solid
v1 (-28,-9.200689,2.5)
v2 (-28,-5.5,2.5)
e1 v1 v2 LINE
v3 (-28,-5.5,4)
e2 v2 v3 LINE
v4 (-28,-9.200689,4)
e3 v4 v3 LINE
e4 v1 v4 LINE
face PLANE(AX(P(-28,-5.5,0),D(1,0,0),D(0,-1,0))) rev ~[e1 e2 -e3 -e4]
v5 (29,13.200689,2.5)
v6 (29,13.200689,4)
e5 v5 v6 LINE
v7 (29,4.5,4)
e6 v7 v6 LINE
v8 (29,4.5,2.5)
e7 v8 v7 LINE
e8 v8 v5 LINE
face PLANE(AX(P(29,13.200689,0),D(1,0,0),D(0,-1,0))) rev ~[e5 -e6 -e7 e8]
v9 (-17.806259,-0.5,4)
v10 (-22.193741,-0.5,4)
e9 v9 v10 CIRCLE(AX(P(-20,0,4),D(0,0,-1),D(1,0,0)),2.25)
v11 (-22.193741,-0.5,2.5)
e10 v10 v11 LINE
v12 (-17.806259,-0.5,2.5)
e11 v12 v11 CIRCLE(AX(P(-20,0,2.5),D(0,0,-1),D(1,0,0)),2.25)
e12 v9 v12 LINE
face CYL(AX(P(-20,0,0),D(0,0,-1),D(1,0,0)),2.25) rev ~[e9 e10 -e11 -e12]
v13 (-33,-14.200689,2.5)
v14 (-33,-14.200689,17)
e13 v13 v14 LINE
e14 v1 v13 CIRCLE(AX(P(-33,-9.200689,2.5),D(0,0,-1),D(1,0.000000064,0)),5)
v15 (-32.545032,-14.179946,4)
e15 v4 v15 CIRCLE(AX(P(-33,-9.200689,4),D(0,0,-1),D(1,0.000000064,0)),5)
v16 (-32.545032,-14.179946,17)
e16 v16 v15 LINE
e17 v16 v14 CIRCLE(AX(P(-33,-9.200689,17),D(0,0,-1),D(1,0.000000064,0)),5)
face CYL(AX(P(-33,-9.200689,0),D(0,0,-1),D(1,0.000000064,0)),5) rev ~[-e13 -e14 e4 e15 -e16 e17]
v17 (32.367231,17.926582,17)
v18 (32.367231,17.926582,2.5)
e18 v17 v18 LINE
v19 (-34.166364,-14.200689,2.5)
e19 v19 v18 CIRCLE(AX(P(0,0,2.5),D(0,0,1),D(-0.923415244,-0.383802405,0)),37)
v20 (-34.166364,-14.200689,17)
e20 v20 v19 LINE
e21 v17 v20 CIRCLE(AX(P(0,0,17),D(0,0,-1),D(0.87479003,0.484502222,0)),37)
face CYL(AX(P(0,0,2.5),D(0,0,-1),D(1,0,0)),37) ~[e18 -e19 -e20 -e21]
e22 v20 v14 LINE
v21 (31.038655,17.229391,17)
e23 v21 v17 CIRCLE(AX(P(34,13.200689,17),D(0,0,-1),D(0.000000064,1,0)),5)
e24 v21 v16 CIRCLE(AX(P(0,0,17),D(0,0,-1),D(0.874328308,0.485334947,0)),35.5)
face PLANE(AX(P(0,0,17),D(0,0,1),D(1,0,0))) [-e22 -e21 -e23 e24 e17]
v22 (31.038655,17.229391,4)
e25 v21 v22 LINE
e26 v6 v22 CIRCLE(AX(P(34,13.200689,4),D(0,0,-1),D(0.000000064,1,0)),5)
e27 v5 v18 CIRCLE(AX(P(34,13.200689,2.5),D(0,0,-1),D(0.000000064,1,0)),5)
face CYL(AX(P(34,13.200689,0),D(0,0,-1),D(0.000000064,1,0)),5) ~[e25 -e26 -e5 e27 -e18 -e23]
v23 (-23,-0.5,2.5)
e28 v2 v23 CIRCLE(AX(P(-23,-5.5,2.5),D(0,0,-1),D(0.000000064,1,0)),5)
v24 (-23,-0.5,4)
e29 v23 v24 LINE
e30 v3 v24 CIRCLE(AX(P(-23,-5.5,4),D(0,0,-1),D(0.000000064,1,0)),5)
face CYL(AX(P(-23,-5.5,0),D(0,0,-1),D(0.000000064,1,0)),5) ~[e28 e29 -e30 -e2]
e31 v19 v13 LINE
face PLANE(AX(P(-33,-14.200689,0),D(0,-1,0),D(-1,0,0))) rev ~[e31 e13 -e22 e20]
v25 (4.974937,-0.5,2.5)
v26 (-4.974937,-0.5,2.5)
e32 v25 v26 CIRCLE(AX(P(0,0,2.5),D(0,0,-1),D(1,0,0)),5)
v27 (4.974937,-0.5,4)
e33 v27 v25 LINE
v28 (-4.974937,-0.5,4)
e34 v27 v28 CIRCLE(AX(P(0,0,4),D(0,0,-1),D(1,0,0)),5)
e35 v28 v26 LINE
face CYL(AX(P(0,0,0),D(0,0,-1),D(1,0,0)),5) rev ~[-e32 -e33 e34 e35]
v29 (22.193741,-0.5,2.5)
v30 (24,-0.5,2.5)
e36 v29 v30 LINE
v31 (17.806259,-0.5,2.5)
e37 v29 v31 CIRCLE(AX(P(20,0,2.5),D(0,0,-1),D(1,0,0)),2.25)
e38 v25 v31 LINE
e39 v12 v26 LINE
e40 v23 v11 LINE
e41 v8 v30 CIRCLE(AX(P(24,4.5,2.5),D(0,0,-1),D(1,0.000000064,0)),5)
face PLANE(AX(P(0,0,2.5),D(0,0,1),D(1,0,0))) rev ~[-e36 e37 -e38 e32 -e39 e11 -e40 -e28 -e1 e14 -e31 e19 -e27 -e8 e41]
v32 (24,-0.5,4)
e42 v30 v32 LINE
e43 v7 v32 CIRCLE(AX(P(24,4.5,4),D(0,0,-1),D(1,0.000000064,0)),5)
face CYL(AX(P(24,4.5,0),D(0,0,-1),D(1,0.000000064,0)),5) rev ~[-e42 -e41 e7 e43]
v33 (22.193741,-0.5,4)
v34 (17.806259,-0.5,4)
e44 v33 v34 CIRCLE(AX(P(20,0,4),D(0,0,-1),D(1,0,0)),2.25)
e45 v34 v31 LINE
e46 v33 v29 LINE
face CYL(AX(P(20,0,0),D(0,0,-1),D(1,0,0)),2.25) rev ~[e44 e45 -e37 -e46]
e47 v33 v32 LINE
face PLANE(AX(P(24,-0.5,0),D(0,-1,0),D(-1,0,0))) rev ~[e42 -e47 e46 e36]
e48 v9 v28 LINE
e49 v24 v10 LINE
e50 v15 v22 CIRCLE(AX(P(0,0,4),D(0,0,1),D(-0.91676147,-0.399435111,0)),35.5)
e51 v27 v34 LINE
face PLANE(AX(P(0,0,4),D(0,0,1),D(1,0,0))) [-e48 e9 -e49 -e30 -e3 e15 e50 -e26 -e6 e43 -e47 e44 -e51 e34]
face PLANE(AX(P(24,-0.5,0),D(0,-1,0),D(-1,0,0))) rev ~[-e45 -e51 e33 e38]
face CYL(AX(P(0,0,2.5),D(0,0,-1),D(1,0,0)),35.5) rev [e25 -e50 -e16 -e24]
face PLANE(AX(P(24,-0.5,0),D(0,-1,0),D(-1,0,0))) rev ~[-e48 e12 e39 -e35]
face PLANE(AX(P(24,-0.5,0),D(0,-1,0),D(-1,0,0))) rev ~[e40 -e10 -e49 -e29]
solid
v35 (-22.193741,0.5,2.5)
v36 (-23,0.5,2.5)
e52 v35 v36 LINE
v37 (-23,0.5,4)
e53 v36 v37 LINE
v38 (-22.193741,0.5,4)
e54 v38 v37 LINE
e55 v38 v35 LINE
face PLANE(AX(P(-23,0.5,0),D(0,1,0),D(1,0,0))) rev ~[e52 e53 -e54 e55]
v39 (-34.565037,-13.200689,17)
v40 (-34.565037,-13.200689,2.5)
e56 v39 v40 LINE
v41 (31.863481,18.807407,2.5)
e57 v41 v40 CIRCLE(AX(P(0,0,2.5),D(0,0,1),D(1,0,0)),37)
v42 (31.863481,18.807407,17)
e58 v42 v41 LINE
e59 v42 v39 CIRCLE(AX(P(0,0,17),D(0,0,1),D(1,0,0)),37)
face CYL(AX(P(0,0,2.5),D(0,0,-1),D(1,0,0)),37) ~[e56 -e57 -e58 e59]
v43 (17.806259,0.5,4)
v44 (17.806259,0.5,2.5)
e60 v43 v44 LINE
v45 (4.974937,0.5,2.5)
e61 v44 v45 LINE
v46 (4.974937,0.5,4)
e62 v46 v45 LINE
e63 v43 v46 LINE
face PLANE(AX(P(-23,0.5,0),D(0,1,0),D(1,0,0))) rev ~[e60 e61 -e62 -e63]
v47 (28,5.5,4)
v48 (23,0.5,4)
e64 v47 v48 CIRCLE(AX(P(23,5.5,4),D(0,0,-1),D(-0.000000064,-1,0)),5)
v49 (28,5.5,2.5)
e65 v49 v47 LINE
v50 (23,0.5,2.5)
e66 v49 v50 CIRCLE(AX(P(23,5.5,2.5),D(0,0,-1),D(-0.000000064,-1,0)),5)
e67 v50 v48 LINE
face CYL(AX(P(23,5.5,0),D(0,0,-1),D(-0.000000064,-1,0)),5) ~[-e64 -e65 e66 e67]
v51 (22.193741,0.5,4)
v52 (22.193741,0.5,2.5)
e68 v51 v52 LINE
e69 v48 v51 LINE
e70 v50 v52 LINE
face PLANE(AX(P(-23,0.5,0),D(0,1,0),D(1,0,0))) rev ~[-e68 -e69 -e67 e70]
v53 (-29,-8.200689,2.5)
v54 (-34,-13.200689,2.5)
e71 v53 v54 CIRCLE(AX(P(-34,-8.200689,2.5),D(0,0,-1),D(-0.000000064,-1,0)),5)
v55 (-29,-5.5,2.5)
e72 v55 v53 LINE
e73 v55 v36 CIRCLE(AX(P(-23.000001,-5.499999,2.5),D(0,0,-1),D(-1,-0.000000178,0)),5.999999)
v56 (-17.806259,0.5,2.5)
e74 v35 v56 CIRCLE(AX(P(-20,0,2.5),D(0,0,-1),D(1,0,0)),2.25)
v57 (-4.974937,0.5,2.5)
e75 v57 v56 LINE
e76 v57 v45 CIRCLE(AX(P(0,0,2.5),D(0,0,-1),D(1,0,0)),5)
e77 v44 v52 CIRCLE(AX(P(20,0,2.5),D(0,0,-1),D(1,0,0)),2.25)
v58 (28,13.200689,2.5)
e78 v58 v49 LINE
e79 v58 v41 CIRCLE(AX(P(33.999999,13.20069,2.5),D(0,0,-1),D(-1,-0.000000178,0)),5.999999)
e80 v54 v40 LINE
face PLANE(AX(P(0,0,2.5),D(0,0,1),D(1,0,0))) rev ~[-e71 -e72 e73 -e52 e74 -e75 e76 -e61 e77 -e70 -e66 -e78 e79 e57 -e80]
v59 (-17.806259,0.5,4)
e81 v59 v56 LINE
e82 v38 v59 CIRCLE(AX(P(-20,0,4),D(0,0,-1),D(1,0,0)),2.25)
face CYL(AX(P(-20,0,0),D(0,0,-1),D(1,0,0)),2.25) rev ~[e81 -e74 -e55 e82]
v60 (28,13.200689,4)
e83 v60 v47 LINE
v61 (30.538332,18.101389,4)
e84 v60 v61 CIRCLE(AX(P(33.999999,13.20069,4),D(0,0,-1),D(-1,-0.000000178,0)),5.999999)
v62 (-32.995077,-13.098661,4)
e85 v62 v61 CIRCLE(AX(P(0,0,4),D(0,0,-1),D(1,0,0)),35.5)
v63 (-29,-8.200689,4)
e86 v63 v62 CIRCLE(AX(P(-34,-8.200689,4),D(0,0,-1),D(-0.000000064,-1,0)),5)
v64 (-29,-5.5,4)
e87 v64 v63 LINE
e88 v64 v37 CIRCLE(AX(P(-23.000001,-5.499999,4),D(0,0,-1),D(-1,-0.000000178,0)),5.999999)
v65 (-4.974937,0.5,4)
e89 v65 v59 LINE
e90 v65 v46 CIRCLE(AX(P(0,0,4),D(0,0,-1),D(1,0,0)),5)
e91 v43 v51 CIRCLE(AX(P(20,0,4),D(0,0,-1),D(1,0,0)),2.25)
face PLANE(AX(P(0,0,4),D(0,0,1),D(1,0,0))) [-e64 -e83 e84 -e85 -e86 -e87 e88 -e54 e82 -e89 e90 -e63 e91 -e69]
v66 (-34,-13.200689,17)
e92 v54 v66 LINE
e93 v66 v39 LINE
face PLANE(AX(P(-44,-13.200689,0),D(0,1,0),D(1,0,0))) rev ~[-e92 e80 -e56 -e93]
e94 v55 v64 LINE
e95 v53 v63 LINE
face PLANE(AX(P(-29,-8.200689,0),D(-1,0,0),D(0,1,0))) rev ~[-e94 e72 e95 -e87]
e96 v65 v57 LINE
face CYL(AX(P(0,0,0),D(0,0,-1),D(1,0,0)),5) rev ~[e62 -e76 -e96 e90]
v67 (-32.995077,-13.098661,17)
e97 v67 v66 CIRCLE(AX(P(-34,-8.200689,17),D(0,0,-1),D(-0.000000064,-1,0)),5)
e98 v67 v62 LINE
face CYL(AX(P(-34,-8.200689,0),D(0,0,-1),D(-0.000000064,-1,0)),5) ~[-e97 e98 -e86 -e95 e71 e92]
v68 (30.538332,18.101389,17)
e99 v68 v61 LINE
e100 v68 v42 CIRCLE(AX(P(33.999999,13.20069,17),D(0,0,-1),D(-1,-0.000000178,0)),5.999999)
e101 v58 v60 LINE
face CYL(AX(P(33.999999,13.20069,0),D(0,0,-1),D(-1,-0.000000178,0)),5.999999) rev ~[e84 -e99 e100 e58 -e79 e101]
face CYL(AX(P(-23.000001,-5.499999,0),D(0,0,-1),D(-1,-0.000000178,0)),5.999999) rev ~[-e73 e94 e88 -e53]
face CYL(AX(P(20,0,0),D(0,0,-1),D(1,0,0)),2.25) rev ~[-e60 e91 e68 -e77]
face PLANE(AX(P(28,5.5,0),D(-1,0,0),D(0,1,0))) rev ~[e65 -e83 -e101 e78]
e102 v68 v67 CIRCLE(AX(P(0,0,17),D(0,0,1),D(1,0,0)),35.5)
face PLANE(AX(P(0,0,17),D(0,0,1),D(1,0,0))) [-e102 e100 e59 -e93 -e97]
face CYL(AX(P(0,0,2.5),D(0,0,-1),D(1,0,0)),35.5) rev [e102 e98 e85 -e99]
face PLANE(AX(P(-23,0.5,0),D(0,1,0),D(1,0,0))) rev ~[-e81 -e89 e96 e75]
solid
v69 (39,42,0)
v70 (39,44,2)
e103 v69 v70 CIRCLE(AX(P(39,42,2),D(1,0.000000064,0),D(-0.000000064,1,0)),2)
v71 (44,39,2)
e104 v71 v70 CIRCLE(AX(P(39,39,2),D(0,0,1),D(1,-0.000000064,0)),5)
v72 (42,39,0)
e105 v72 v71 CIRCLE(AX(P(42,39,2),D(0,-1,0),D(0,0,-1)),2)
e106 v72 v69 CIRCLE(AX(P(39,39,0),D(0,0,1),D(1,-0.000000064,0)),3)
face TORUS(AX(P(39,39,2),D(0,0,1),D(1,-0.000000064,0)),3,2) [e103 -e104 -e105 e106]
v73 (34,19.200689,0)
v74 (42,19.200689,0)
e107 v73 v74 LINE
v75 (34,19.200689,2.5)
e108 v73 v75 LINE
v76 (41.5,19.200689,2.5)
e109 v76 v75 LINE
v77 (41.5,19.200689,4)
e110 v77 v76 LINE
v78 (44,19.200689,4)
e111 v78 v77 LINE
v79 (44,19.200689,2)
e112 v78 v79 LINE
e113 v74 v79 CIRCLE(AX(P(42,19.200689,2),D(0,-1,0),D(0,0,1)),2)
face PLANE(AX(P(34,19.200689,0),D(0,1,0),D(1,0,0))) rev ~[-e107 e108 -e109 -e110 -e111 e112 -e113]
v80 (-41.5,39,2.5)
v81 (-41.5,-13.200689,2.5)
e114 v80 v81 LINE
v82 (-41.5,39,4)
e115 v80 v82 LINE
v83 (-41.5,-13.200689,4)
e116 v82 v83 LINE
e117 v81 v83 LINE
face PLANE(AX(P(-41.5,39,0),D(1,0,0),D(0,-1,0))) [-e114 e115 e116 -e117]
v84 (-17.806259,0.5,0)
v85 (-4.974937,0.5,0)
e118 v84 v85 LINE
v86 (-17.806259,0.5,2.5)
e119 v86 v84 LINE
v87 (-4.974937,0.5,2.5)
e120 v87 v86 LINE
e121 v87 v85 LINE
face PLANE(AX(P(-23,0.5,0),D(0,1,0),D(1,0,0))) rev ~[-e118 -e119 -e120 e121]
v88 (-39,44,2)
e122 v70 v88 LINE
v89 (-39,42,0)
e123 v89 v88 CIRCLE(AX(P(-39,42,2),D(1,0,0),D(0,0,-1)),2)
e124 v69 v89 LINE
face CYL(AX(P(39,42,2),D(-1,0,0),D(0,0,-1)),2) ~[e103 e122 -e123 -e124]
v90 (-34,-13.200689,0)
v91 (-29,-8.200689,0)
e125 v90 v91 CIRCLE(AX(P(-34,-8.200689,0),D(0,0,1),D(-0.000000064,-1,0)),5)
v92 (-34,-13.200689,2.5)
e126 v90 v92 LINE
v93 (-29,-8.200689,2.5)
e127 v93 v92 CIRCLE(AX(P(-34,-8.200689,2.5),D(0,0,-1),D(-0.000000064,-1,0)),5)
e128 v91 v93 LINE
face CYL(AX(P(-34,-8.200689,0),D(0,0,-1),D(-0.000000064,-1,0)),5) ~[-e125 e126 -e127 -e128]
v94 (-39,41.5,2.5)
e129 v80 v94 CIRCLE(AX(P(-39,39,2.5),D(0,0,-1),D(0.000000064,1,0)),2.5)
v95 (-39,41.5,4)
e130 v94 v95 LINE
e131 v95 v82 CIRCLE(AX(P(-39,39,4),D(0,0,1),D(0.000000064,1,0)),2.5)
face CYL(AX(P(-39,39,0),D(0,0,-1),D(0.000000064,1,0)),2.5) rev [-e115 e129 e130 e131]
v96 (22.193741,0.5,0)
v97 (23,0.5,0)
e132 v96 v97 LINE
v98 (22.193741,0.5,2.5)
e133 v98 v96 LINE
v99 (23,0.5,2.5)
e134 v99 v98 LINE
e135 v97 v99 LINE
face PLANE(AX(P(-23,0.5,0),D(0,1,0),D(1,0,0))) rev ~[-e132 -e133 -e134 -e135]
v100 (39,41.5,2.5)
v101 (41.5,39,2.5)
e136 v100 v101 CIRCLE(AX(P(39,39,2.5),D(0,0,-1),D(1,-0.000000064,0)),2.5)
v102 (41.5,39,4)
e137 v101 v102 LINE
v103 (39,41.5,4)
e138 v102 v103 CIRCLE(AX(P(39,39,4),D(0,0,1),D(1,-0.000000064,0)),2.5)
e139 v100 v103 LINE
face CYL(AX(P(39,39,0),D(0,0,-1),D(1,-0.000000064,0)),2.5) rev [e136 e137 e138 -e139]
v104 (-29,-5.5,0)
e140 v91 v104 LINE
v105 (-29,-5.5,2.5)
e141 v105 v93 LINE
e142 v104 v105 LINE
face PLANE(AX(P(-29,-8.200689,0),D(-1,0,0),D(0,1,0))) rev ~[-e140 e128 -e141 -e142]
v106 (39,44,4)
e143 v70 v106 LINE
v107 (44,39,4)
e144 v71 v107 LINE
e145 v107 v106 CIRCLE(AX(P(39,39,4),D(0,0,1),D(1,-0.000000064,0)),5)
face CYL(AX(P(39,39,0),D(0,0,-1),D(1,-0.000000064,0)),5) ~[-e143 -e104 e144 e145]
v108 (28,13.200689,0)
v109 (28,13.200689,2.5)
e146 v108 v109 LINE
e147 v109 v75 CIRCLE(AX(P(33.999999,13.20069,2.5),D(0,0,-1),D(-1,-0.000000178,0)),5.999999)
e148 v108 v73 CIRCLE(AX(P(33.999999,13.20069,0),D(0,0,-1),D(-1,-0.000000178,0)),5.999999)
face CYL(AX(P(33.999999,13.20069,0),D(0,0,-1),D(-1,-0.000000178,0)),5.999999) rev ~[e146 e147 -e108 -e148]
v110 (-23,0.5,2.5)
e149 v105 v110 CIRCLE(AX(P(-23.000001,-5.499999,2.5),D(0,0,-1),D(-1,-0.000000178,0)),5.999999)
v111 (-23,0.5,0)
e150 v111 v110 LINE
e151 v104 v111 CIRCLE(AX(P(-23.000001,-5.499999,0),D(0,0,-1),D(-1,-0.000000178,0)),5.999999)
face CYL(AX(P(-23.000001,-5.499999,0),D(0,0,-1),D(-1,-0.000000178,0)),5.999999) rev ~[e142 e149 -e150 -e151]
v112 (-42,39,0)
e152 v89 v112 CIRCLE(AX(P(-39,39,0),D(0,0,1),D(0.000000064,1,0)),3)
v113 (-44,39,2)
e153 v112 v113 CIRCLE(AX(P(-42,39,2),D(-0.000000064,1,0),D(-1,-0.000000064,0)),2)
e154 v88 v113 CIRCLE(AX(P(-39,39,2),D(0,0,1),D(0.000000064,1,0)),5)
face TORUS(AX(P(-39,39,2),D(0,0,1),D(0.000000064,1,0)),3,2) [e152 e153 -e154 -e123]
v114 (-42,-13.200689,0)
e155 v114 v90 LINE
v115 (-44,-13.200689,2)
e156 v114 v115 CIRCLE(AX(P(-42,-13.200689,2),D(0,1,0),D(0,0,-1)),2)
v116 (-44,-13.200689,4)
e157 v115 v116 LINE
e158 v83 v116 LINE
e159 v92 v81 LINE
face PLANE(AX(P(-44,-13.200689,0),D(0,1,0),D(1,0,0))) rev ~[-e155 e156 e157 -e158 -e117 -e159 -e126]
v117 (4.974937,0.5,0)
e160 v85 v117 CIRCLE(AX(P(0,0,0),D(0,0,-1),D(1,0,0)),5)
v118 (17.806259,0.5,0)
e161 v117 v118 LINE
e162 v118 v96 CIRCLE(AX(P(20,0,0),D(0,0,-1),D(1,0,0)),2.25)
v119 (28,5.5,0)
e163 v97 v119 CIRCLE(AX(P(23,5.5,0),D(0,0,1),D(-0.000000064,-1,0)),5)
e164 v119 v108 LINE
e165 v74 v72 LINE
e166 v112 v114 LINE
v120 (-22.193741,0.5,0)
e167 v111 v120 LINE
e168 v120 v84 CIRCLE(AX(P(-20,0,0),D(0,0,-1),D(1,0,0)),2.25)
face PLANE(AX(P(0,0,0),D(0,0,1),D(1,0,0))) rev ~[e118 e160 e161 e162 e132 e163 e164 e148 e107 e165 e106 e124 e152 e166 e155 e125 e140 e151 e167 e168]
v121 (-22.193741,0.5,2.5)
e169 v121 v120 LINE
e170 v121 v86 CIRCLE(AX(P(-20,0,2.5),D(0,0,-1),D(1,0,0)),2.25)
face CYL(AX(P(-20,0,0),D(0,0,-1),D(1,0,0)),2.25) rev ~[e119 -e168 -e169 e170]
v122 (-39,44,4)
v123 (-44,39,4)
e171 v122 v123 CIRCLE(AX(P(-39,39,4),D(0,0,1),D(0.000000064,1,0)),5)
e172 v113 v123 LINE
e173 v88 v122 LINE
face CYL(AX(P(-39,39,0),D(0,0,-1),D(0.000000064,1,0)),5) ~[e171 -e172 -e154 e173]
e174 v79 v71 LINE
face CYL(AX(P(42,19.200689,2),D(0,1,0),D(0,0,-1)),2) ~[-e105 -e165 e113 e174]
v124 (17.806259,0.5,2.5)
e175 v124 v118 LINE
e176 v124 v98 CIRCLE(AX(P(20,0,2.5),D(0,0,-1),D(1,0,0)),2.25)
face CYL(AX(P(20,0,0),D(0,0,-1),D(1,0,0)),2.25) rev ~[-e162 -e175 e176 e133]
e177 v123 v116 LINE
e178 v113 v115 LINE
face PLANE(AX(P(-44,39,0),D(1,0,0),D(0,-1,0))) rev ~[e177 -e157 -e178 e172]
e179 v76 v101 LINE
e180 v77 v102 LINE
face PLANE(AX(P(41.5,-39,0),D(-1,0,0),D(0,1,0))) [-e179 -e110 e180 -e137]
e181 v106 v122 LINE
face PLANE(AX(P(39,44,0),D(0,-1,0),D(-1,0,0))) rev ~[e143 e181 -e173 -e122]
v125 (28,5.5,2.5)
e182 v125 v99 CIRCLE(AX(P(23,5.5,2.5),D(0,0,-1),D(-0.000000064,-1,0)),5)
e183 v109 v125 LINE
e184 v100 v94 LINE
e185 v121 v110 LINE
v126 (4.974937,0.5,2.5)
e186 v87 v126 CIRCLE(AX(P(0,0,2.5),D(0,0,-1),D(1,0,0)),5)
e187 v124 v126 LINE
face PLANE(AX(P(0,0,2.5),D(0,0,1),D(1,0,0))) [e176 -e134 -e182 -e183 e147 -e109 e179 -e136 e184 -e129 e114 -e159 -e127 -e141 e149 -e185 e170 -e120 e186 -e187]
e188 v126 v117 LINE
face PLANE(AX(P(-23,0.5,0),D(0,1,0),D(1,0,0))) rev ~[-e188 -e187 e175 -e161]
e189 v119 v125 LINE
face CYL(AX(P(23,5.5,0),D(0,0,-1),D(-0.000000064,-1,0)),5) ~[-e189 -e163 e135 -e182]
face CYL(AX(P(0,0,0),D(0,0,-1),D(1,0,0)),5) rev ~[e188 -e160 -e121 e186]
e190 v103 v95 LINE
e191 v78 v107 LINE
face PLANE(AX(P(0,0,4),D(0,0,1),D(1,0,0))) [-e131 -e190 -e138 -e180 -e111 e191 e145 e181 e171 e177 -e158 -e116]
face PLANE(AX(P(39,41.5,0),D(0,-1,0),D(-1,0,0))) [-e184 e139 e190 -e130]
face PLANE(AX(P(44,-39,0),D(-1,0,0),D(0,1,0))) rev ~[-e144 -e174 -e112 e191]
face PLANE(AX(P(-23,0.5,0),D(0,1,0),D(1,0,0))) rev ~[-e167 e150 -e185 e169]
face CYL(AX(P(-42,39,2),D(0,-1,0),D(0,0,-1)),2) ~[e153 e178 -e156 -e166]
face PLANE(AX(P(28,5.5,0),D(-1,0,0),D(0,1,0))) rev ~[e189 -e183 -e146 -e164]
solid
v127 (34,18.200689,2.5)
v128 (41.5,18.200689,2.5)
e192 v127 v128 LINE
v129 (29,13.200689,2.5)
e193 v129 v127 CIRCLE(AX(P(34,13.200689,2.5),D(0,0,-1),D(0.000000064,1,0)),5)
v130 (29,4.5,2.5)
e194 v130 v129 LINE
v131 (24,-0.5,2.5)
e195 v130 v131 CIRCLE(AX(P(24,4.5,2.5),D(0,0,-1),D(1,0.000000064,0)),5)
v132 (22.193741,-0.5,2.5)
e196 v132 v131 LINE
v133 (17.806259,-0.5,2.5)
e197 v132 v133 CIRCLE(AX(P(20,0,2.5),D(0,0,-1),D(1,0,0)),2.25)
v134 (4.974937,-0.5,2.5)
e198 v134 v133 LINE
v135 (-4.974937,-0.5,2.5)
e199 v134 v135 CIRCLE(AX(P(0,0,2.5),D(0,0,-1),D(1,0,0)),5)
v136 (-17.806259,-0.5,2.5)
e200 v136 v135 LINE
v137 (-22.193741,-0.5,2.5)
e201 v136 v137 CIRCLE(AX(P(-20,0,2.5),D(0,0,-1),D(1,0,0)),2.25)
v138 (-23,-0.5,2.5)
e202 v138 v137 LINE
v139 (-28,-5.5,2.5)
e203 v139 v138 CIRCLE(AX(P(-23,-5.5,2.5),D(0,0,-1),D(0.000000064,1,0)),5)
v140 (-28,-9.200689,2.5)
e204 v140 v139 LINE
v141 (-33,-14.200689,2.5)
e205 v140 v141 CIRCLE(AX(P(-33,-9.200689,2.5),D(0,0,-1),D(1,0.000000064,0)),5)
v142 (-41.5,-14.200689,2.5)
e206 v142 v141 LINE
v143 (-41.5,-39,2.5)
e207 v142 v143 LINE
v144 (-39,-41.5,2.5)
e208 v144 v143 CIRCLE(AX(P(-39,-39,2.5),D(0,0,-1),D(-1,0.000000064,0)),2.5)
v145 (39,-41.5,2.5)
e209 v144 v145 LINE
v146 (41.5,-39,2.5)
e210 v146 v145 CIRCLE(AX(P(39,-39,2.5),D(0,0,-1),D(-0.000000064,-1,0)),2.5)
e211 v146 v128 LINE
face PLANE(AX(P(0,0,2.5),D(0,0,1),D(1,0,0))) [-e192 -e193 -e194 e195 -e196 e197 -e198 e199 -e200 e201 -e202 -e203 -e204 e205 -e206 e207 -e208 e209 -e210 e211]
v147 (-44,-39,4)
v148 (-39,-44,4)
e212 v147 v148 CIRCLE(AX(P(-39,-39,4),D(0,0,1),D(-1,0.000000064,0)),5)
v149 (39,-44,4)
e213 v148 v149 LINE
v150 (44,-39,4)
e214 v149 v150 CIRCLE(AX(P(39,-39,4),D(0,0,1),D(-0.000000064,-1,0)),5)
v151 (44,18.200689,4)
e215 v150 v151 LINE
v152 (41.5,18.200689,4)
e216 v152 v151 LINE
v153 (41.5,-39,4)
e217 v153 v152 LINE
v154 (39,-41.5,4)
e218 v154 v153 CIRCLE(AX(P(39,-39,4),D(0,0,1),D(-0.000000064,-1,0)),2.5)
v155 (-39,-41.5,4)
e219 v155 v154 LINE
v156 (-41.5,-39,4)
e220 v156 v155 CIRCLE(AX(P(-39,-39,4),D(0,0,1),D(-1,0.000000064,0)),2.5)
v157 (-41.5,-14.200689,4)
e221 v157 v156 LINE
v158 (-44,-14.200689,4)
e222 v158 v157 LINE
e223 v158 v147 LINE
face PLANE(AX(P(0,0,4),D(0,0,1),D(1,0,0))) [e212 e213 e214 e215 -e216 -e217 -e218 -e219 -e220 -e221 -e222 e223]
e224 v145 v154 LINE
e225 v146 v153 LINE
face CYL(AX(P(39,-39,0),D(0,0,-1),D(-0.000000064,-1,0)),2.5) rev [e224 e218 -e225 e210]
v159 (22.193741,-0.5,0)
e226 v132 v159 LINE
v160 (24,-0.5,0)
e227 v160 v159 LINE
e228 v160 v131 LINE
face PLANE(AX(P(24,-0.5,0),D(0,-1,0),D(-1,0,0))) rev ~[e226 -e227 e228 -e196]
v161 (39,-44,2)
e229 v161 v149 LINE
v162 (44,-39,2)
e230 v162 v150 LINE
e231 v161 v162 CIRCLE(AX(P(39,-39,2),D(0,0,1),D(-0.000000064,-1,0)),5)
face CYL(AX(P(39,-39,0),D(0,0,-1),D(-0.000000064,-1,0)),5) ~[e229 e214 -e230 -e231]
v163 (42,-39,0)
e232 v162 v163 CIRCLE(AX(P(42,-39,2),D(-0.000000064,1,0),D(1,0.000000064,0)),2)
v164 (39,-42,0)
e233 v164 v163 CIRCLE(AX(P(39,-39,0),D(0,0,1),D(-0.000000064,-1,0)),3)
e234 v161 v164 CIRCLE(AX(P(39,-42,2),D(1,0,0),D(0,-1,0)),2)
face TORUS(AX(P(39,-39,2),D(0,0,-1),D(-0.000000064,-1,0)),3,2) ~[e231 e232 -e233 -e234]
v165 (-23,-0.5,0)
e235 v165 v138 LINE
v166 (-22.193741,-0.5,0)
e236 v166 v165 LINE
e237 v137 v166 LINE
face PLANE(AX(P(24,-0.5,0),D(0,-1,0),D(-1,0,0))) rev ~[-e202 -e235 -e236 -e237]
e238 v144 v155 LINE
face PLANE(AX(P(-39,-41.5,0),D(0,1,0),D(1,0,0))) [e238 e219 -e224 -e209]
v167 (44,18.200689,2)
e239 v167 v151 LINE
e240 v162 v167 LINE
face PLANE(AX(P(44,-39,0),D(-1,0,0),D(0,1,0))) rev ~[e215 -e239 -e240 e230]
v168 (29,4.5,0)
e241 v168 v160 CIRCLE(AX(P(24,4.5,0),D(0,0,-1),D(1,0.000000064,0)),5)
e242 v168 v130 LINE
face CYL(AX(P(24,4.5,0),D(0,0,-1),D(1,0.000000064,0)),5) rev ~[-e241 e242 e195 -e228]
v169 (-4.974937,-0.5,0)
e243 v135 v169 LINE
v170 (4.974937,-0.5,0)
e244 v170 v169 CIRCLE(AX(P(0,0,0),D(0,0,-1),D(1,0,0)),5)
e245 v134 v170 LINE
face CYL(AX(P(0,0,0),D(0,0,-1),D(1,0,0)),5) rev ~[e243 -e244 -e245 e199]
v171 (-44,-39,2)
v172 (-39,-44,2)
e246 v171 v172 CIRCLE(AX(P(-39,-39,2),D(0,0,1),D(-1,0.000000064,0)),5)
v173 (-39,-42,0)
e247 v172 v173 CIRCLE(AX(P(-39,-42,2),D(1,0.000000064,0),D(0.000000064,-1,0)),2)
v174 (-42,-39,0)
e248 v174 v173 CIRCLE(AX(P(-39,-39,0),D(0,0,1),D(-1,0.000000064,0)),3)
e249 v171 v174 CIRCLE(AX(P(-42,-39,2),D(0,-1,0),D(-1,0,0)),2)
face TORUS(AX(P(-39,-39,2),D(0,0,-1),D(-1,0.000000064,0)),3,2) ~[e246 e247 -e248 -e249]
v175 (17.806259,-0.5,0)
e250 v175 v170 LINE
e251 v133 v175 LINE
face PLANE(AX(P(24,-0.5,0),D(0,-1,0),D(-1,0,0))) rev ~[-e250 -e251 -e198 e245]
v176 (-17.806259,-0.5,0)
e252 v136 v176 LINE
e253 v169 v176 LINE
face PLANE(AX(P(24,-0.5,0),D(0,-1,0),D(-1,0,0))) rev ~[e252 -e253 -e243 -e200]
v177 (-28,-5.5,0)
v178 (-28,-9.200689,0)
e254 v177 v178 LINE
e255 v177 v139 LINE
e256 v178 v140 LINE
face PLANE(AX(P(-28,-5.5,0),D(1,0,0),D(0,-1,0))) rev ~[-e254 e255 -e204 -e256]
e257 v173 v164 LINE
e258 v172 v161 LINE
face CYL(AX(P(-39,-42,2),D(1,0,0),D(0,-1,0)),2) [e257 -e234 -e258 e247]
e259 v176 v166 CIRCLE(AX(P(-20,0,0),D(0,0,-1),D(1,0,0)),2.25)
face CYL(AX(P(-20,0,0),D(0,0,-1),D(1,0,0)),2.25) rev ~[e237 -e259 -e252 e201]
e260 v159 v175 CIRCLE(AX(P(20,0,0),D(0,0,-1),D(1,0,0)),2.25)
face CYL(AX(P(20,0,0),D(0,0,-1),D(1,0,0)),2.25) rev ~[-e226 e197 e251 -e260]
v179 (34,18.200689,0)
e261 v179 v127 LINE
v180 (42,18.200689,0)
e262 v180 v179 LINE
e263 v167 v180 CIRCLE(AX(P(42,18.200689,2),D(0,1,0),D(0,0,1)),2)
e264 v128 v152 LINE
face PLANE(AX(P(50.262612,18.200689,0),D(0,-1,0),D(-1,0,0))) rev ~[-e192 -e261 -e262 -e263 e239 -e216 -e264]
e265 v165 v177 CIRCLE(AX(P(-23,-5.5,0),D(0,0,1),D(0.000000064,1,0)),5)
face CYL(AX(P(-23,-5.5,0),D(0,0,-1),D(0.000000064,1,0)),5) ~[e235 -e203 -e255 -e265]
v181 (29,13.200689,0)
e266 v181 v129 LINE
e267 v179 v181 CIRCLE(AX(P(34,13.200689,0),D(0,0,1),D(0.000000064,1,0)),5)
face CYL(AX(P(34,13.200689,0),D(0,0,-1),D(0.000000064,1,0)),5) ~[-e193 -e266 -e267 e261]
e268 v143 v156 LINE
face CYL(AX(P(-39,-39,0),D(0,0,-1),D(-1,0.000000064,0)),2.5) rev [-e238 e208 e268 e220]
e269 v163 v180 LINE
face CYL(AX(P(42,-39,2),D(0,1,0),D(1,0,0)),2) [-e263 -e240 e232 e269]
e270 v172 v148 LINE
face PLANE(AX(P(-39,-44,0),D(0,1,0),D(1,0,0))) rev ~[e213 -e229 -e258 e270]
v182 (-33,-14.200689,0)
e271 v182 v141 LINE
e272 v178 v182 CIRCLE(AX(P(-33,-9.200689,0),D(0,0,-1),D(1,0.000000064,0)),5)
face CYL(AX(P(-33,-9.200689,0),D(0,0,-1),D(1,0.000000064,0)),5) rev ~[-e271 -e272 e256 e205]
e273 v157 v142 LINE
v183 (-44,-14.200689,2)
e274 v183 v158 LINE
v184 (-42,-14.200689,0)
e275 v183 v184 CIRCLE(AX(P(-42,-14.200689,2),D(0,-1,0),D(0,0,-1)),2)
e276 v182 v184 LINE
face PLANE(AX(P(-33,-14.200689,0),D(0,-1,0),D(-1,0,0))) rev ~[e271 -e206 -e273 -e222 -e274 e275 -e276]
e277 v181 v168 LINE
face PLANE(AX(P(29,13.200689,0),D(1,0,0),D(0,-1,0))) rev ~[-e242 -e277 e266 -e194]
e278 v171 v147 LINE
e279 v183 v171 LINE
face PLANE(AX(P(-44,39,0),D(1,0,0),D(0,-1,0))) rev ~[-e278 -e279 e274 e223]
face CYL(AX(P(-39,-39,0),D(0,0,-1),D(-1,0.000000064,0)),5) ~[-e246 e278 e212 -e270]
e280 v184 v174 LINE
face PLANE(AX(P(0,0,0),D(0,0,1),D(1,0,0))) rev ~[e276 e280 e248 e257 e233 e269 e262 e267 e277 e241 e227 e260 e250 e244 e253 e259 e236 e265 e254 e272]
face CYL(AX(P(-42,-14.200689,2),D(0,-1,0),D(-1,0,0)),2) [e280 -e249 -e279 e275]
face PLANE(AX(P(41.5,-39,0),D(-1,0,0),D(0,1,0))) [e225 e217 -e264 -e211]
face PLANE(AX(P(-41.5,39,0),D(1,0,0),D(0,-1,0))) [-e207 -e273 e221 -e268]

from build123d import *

# Parameters (mm, degrees)
F1_DEPTH = 4
F2_T     = -2.5
F3_R     = 37
F4_DEPTH = 14.5
F5_T     = -1.5
F6_R     = 5
F6_R_2   = 2.25
F7_DEPTH = 17.001
F9_DEPTH = 17.001
F10_R    = 2


with BuildPart() as f1:
    # F0 (on Top) → F1 (new body)
    with BuildSketch(Plane.XY):
        with BuildLine():
            Line((-39, -44), (39, -44))
            ThreePointArc((39, -44), (42.535534, -42.535534), (44, -39))
            Line((44, -39), (44, 39))
            ThreePointArc((44, 39), (42.535534, 42.535534), (39, 44))
            Line((39, 44), (-39, 44))
            ThreePointArc((-39, 44), (-42.535534, 42.535534), (-44, 39))
            Line((-44, 39), (-44, -39))
            ThreePointArc((-44, -39), (-42.535534, -42.535534), (-39, -44))
        make_face()
    extrude(amount=F1_DEPTH)

    # F2
    f2_openings = [f1.faces().sort_by_distance(p)[0] for p in [
        (0, 0, 4),
    ]]
    offset(amount=F2_T, openings=f2_openings)


with BuildPart() as f4:
    # F3 (on face) → F4 (new body)
    with BuildSketch(Plane.XY.offset(2.5)):
        Circle(F3_R)
    extrude(amount=F4_DEPTH)

    # F5
    f5_openings = [f4.faces().sort_by_distance(p)[0] for p in [
        (0, 0, 17),
    ]]
    offset(amount=F5_T, openings=f5_openings)


with BuildPart() as f7_tool:
    # F6 (on face) → F7 (new body, through all)
    with BuildSketch(Plane(origin=(0, 0, 0), x_dir=(1, 0, 0), z_dir=(0, 0, -1))):
        Circle(F6_R)
        with Locations((20, 0)):
            Circle(F6_R_2)
        with Locations((-20, 0)):
            Circle(F6_R_2)
    extrude(amount=-F7_DEPTH)


with BuildPart() as f1_1:
    add(f1.part)

    # F7: cut by f7_tool
    add(f7_tool.part, mode=Mode.SUBTRACT)


with BuildPart() as f4_1:
    add(f4.part)

    # F7: cut by f7_tool
    add(f7_tool.part, mode=Mode.SUBTRACT)


with BuildPart() as f9_tool:
    # F8 (on face) → F9 (new body, through all)
    with BuildSketch(Plane(origin=(0, 0, 0), x_dir=(1, 0, 0), z_dir=(0, 0, -1))):
        with BuildLine():
            Line((50.262612, -18.200689), (34, -18.200689))
            ThreePointArc((34, -18.200689), (30.464466, -16.736223), (29, -13.200689))
            Line((29, -13.200689), (29, -4.5))
            ThreePointArc((29, -4.5), (27.535534, -0.964466), (24, 0.5))
            Line((24, 0.5), (-23, 0.5))
            ThreePointArc((-23, 0.5), (-26.535534, 1.964466), (-28, 5.5))
            Line((-28, 5.5), (-28, 9.200689))
            ThreePointArc((-28, 9.200689), (-29.464466, 12.736223), (-33, 14.200689))
            Line((-33, 14.200689), (-44, 14.200689))
            Line((-44, 14.200689), (-44, 13.200689))
            Line((-44, 13.200689), (-34, 13.200689))
            ThreePointArc((-34, 13.200689), (-30.464466, 11.736223), (-29, 8.200689))
            Line((-29, 8.200689), (-29, 5.5))
            ThreePointArc((-29, 5.5), (-27.242641, 1.257359), (-23, -0.5))
            Line((-23, -0.5), (23, -0.5))
            ThreePointArc((23, -0.5), (26.535534, -1.964466), (28, -5.5))
            Line((28, -5.5), (28, -13.200689))
            ThreePointArc((28, -13.200689), (29.757359, -17.44333), (34, -19.200689))
            Line((34, -19.200689), (50.262612, -19.200689))
            Line((50.262612, -19.200689), (50.262612, -18.200689))
        make_face()
    extrude(amount=-F9_DEPTH)


with BuildPart() as f1_2:
    add(f1_1.part)

    # F9: cut by f9_tool
    add(f9_tool.part, mode=Mode.SUBTRACT)

    # F10
    f10_edges = [f1_2.edges().sort_by_distance(p)[0] for p in [
        (0, -44, 0),
        (-44, 12.899655, 0),
    ]]
    fillet(f10_edges, radius=F10_R)


with BuildPart() as f4_2:
    add(f4_1.part)

    # F9: cut by f9_tool
    add(f9_tool.part, mode=Mode.SUBTRACT)


solid = Compound([f1_2.part, f4_2.part])
